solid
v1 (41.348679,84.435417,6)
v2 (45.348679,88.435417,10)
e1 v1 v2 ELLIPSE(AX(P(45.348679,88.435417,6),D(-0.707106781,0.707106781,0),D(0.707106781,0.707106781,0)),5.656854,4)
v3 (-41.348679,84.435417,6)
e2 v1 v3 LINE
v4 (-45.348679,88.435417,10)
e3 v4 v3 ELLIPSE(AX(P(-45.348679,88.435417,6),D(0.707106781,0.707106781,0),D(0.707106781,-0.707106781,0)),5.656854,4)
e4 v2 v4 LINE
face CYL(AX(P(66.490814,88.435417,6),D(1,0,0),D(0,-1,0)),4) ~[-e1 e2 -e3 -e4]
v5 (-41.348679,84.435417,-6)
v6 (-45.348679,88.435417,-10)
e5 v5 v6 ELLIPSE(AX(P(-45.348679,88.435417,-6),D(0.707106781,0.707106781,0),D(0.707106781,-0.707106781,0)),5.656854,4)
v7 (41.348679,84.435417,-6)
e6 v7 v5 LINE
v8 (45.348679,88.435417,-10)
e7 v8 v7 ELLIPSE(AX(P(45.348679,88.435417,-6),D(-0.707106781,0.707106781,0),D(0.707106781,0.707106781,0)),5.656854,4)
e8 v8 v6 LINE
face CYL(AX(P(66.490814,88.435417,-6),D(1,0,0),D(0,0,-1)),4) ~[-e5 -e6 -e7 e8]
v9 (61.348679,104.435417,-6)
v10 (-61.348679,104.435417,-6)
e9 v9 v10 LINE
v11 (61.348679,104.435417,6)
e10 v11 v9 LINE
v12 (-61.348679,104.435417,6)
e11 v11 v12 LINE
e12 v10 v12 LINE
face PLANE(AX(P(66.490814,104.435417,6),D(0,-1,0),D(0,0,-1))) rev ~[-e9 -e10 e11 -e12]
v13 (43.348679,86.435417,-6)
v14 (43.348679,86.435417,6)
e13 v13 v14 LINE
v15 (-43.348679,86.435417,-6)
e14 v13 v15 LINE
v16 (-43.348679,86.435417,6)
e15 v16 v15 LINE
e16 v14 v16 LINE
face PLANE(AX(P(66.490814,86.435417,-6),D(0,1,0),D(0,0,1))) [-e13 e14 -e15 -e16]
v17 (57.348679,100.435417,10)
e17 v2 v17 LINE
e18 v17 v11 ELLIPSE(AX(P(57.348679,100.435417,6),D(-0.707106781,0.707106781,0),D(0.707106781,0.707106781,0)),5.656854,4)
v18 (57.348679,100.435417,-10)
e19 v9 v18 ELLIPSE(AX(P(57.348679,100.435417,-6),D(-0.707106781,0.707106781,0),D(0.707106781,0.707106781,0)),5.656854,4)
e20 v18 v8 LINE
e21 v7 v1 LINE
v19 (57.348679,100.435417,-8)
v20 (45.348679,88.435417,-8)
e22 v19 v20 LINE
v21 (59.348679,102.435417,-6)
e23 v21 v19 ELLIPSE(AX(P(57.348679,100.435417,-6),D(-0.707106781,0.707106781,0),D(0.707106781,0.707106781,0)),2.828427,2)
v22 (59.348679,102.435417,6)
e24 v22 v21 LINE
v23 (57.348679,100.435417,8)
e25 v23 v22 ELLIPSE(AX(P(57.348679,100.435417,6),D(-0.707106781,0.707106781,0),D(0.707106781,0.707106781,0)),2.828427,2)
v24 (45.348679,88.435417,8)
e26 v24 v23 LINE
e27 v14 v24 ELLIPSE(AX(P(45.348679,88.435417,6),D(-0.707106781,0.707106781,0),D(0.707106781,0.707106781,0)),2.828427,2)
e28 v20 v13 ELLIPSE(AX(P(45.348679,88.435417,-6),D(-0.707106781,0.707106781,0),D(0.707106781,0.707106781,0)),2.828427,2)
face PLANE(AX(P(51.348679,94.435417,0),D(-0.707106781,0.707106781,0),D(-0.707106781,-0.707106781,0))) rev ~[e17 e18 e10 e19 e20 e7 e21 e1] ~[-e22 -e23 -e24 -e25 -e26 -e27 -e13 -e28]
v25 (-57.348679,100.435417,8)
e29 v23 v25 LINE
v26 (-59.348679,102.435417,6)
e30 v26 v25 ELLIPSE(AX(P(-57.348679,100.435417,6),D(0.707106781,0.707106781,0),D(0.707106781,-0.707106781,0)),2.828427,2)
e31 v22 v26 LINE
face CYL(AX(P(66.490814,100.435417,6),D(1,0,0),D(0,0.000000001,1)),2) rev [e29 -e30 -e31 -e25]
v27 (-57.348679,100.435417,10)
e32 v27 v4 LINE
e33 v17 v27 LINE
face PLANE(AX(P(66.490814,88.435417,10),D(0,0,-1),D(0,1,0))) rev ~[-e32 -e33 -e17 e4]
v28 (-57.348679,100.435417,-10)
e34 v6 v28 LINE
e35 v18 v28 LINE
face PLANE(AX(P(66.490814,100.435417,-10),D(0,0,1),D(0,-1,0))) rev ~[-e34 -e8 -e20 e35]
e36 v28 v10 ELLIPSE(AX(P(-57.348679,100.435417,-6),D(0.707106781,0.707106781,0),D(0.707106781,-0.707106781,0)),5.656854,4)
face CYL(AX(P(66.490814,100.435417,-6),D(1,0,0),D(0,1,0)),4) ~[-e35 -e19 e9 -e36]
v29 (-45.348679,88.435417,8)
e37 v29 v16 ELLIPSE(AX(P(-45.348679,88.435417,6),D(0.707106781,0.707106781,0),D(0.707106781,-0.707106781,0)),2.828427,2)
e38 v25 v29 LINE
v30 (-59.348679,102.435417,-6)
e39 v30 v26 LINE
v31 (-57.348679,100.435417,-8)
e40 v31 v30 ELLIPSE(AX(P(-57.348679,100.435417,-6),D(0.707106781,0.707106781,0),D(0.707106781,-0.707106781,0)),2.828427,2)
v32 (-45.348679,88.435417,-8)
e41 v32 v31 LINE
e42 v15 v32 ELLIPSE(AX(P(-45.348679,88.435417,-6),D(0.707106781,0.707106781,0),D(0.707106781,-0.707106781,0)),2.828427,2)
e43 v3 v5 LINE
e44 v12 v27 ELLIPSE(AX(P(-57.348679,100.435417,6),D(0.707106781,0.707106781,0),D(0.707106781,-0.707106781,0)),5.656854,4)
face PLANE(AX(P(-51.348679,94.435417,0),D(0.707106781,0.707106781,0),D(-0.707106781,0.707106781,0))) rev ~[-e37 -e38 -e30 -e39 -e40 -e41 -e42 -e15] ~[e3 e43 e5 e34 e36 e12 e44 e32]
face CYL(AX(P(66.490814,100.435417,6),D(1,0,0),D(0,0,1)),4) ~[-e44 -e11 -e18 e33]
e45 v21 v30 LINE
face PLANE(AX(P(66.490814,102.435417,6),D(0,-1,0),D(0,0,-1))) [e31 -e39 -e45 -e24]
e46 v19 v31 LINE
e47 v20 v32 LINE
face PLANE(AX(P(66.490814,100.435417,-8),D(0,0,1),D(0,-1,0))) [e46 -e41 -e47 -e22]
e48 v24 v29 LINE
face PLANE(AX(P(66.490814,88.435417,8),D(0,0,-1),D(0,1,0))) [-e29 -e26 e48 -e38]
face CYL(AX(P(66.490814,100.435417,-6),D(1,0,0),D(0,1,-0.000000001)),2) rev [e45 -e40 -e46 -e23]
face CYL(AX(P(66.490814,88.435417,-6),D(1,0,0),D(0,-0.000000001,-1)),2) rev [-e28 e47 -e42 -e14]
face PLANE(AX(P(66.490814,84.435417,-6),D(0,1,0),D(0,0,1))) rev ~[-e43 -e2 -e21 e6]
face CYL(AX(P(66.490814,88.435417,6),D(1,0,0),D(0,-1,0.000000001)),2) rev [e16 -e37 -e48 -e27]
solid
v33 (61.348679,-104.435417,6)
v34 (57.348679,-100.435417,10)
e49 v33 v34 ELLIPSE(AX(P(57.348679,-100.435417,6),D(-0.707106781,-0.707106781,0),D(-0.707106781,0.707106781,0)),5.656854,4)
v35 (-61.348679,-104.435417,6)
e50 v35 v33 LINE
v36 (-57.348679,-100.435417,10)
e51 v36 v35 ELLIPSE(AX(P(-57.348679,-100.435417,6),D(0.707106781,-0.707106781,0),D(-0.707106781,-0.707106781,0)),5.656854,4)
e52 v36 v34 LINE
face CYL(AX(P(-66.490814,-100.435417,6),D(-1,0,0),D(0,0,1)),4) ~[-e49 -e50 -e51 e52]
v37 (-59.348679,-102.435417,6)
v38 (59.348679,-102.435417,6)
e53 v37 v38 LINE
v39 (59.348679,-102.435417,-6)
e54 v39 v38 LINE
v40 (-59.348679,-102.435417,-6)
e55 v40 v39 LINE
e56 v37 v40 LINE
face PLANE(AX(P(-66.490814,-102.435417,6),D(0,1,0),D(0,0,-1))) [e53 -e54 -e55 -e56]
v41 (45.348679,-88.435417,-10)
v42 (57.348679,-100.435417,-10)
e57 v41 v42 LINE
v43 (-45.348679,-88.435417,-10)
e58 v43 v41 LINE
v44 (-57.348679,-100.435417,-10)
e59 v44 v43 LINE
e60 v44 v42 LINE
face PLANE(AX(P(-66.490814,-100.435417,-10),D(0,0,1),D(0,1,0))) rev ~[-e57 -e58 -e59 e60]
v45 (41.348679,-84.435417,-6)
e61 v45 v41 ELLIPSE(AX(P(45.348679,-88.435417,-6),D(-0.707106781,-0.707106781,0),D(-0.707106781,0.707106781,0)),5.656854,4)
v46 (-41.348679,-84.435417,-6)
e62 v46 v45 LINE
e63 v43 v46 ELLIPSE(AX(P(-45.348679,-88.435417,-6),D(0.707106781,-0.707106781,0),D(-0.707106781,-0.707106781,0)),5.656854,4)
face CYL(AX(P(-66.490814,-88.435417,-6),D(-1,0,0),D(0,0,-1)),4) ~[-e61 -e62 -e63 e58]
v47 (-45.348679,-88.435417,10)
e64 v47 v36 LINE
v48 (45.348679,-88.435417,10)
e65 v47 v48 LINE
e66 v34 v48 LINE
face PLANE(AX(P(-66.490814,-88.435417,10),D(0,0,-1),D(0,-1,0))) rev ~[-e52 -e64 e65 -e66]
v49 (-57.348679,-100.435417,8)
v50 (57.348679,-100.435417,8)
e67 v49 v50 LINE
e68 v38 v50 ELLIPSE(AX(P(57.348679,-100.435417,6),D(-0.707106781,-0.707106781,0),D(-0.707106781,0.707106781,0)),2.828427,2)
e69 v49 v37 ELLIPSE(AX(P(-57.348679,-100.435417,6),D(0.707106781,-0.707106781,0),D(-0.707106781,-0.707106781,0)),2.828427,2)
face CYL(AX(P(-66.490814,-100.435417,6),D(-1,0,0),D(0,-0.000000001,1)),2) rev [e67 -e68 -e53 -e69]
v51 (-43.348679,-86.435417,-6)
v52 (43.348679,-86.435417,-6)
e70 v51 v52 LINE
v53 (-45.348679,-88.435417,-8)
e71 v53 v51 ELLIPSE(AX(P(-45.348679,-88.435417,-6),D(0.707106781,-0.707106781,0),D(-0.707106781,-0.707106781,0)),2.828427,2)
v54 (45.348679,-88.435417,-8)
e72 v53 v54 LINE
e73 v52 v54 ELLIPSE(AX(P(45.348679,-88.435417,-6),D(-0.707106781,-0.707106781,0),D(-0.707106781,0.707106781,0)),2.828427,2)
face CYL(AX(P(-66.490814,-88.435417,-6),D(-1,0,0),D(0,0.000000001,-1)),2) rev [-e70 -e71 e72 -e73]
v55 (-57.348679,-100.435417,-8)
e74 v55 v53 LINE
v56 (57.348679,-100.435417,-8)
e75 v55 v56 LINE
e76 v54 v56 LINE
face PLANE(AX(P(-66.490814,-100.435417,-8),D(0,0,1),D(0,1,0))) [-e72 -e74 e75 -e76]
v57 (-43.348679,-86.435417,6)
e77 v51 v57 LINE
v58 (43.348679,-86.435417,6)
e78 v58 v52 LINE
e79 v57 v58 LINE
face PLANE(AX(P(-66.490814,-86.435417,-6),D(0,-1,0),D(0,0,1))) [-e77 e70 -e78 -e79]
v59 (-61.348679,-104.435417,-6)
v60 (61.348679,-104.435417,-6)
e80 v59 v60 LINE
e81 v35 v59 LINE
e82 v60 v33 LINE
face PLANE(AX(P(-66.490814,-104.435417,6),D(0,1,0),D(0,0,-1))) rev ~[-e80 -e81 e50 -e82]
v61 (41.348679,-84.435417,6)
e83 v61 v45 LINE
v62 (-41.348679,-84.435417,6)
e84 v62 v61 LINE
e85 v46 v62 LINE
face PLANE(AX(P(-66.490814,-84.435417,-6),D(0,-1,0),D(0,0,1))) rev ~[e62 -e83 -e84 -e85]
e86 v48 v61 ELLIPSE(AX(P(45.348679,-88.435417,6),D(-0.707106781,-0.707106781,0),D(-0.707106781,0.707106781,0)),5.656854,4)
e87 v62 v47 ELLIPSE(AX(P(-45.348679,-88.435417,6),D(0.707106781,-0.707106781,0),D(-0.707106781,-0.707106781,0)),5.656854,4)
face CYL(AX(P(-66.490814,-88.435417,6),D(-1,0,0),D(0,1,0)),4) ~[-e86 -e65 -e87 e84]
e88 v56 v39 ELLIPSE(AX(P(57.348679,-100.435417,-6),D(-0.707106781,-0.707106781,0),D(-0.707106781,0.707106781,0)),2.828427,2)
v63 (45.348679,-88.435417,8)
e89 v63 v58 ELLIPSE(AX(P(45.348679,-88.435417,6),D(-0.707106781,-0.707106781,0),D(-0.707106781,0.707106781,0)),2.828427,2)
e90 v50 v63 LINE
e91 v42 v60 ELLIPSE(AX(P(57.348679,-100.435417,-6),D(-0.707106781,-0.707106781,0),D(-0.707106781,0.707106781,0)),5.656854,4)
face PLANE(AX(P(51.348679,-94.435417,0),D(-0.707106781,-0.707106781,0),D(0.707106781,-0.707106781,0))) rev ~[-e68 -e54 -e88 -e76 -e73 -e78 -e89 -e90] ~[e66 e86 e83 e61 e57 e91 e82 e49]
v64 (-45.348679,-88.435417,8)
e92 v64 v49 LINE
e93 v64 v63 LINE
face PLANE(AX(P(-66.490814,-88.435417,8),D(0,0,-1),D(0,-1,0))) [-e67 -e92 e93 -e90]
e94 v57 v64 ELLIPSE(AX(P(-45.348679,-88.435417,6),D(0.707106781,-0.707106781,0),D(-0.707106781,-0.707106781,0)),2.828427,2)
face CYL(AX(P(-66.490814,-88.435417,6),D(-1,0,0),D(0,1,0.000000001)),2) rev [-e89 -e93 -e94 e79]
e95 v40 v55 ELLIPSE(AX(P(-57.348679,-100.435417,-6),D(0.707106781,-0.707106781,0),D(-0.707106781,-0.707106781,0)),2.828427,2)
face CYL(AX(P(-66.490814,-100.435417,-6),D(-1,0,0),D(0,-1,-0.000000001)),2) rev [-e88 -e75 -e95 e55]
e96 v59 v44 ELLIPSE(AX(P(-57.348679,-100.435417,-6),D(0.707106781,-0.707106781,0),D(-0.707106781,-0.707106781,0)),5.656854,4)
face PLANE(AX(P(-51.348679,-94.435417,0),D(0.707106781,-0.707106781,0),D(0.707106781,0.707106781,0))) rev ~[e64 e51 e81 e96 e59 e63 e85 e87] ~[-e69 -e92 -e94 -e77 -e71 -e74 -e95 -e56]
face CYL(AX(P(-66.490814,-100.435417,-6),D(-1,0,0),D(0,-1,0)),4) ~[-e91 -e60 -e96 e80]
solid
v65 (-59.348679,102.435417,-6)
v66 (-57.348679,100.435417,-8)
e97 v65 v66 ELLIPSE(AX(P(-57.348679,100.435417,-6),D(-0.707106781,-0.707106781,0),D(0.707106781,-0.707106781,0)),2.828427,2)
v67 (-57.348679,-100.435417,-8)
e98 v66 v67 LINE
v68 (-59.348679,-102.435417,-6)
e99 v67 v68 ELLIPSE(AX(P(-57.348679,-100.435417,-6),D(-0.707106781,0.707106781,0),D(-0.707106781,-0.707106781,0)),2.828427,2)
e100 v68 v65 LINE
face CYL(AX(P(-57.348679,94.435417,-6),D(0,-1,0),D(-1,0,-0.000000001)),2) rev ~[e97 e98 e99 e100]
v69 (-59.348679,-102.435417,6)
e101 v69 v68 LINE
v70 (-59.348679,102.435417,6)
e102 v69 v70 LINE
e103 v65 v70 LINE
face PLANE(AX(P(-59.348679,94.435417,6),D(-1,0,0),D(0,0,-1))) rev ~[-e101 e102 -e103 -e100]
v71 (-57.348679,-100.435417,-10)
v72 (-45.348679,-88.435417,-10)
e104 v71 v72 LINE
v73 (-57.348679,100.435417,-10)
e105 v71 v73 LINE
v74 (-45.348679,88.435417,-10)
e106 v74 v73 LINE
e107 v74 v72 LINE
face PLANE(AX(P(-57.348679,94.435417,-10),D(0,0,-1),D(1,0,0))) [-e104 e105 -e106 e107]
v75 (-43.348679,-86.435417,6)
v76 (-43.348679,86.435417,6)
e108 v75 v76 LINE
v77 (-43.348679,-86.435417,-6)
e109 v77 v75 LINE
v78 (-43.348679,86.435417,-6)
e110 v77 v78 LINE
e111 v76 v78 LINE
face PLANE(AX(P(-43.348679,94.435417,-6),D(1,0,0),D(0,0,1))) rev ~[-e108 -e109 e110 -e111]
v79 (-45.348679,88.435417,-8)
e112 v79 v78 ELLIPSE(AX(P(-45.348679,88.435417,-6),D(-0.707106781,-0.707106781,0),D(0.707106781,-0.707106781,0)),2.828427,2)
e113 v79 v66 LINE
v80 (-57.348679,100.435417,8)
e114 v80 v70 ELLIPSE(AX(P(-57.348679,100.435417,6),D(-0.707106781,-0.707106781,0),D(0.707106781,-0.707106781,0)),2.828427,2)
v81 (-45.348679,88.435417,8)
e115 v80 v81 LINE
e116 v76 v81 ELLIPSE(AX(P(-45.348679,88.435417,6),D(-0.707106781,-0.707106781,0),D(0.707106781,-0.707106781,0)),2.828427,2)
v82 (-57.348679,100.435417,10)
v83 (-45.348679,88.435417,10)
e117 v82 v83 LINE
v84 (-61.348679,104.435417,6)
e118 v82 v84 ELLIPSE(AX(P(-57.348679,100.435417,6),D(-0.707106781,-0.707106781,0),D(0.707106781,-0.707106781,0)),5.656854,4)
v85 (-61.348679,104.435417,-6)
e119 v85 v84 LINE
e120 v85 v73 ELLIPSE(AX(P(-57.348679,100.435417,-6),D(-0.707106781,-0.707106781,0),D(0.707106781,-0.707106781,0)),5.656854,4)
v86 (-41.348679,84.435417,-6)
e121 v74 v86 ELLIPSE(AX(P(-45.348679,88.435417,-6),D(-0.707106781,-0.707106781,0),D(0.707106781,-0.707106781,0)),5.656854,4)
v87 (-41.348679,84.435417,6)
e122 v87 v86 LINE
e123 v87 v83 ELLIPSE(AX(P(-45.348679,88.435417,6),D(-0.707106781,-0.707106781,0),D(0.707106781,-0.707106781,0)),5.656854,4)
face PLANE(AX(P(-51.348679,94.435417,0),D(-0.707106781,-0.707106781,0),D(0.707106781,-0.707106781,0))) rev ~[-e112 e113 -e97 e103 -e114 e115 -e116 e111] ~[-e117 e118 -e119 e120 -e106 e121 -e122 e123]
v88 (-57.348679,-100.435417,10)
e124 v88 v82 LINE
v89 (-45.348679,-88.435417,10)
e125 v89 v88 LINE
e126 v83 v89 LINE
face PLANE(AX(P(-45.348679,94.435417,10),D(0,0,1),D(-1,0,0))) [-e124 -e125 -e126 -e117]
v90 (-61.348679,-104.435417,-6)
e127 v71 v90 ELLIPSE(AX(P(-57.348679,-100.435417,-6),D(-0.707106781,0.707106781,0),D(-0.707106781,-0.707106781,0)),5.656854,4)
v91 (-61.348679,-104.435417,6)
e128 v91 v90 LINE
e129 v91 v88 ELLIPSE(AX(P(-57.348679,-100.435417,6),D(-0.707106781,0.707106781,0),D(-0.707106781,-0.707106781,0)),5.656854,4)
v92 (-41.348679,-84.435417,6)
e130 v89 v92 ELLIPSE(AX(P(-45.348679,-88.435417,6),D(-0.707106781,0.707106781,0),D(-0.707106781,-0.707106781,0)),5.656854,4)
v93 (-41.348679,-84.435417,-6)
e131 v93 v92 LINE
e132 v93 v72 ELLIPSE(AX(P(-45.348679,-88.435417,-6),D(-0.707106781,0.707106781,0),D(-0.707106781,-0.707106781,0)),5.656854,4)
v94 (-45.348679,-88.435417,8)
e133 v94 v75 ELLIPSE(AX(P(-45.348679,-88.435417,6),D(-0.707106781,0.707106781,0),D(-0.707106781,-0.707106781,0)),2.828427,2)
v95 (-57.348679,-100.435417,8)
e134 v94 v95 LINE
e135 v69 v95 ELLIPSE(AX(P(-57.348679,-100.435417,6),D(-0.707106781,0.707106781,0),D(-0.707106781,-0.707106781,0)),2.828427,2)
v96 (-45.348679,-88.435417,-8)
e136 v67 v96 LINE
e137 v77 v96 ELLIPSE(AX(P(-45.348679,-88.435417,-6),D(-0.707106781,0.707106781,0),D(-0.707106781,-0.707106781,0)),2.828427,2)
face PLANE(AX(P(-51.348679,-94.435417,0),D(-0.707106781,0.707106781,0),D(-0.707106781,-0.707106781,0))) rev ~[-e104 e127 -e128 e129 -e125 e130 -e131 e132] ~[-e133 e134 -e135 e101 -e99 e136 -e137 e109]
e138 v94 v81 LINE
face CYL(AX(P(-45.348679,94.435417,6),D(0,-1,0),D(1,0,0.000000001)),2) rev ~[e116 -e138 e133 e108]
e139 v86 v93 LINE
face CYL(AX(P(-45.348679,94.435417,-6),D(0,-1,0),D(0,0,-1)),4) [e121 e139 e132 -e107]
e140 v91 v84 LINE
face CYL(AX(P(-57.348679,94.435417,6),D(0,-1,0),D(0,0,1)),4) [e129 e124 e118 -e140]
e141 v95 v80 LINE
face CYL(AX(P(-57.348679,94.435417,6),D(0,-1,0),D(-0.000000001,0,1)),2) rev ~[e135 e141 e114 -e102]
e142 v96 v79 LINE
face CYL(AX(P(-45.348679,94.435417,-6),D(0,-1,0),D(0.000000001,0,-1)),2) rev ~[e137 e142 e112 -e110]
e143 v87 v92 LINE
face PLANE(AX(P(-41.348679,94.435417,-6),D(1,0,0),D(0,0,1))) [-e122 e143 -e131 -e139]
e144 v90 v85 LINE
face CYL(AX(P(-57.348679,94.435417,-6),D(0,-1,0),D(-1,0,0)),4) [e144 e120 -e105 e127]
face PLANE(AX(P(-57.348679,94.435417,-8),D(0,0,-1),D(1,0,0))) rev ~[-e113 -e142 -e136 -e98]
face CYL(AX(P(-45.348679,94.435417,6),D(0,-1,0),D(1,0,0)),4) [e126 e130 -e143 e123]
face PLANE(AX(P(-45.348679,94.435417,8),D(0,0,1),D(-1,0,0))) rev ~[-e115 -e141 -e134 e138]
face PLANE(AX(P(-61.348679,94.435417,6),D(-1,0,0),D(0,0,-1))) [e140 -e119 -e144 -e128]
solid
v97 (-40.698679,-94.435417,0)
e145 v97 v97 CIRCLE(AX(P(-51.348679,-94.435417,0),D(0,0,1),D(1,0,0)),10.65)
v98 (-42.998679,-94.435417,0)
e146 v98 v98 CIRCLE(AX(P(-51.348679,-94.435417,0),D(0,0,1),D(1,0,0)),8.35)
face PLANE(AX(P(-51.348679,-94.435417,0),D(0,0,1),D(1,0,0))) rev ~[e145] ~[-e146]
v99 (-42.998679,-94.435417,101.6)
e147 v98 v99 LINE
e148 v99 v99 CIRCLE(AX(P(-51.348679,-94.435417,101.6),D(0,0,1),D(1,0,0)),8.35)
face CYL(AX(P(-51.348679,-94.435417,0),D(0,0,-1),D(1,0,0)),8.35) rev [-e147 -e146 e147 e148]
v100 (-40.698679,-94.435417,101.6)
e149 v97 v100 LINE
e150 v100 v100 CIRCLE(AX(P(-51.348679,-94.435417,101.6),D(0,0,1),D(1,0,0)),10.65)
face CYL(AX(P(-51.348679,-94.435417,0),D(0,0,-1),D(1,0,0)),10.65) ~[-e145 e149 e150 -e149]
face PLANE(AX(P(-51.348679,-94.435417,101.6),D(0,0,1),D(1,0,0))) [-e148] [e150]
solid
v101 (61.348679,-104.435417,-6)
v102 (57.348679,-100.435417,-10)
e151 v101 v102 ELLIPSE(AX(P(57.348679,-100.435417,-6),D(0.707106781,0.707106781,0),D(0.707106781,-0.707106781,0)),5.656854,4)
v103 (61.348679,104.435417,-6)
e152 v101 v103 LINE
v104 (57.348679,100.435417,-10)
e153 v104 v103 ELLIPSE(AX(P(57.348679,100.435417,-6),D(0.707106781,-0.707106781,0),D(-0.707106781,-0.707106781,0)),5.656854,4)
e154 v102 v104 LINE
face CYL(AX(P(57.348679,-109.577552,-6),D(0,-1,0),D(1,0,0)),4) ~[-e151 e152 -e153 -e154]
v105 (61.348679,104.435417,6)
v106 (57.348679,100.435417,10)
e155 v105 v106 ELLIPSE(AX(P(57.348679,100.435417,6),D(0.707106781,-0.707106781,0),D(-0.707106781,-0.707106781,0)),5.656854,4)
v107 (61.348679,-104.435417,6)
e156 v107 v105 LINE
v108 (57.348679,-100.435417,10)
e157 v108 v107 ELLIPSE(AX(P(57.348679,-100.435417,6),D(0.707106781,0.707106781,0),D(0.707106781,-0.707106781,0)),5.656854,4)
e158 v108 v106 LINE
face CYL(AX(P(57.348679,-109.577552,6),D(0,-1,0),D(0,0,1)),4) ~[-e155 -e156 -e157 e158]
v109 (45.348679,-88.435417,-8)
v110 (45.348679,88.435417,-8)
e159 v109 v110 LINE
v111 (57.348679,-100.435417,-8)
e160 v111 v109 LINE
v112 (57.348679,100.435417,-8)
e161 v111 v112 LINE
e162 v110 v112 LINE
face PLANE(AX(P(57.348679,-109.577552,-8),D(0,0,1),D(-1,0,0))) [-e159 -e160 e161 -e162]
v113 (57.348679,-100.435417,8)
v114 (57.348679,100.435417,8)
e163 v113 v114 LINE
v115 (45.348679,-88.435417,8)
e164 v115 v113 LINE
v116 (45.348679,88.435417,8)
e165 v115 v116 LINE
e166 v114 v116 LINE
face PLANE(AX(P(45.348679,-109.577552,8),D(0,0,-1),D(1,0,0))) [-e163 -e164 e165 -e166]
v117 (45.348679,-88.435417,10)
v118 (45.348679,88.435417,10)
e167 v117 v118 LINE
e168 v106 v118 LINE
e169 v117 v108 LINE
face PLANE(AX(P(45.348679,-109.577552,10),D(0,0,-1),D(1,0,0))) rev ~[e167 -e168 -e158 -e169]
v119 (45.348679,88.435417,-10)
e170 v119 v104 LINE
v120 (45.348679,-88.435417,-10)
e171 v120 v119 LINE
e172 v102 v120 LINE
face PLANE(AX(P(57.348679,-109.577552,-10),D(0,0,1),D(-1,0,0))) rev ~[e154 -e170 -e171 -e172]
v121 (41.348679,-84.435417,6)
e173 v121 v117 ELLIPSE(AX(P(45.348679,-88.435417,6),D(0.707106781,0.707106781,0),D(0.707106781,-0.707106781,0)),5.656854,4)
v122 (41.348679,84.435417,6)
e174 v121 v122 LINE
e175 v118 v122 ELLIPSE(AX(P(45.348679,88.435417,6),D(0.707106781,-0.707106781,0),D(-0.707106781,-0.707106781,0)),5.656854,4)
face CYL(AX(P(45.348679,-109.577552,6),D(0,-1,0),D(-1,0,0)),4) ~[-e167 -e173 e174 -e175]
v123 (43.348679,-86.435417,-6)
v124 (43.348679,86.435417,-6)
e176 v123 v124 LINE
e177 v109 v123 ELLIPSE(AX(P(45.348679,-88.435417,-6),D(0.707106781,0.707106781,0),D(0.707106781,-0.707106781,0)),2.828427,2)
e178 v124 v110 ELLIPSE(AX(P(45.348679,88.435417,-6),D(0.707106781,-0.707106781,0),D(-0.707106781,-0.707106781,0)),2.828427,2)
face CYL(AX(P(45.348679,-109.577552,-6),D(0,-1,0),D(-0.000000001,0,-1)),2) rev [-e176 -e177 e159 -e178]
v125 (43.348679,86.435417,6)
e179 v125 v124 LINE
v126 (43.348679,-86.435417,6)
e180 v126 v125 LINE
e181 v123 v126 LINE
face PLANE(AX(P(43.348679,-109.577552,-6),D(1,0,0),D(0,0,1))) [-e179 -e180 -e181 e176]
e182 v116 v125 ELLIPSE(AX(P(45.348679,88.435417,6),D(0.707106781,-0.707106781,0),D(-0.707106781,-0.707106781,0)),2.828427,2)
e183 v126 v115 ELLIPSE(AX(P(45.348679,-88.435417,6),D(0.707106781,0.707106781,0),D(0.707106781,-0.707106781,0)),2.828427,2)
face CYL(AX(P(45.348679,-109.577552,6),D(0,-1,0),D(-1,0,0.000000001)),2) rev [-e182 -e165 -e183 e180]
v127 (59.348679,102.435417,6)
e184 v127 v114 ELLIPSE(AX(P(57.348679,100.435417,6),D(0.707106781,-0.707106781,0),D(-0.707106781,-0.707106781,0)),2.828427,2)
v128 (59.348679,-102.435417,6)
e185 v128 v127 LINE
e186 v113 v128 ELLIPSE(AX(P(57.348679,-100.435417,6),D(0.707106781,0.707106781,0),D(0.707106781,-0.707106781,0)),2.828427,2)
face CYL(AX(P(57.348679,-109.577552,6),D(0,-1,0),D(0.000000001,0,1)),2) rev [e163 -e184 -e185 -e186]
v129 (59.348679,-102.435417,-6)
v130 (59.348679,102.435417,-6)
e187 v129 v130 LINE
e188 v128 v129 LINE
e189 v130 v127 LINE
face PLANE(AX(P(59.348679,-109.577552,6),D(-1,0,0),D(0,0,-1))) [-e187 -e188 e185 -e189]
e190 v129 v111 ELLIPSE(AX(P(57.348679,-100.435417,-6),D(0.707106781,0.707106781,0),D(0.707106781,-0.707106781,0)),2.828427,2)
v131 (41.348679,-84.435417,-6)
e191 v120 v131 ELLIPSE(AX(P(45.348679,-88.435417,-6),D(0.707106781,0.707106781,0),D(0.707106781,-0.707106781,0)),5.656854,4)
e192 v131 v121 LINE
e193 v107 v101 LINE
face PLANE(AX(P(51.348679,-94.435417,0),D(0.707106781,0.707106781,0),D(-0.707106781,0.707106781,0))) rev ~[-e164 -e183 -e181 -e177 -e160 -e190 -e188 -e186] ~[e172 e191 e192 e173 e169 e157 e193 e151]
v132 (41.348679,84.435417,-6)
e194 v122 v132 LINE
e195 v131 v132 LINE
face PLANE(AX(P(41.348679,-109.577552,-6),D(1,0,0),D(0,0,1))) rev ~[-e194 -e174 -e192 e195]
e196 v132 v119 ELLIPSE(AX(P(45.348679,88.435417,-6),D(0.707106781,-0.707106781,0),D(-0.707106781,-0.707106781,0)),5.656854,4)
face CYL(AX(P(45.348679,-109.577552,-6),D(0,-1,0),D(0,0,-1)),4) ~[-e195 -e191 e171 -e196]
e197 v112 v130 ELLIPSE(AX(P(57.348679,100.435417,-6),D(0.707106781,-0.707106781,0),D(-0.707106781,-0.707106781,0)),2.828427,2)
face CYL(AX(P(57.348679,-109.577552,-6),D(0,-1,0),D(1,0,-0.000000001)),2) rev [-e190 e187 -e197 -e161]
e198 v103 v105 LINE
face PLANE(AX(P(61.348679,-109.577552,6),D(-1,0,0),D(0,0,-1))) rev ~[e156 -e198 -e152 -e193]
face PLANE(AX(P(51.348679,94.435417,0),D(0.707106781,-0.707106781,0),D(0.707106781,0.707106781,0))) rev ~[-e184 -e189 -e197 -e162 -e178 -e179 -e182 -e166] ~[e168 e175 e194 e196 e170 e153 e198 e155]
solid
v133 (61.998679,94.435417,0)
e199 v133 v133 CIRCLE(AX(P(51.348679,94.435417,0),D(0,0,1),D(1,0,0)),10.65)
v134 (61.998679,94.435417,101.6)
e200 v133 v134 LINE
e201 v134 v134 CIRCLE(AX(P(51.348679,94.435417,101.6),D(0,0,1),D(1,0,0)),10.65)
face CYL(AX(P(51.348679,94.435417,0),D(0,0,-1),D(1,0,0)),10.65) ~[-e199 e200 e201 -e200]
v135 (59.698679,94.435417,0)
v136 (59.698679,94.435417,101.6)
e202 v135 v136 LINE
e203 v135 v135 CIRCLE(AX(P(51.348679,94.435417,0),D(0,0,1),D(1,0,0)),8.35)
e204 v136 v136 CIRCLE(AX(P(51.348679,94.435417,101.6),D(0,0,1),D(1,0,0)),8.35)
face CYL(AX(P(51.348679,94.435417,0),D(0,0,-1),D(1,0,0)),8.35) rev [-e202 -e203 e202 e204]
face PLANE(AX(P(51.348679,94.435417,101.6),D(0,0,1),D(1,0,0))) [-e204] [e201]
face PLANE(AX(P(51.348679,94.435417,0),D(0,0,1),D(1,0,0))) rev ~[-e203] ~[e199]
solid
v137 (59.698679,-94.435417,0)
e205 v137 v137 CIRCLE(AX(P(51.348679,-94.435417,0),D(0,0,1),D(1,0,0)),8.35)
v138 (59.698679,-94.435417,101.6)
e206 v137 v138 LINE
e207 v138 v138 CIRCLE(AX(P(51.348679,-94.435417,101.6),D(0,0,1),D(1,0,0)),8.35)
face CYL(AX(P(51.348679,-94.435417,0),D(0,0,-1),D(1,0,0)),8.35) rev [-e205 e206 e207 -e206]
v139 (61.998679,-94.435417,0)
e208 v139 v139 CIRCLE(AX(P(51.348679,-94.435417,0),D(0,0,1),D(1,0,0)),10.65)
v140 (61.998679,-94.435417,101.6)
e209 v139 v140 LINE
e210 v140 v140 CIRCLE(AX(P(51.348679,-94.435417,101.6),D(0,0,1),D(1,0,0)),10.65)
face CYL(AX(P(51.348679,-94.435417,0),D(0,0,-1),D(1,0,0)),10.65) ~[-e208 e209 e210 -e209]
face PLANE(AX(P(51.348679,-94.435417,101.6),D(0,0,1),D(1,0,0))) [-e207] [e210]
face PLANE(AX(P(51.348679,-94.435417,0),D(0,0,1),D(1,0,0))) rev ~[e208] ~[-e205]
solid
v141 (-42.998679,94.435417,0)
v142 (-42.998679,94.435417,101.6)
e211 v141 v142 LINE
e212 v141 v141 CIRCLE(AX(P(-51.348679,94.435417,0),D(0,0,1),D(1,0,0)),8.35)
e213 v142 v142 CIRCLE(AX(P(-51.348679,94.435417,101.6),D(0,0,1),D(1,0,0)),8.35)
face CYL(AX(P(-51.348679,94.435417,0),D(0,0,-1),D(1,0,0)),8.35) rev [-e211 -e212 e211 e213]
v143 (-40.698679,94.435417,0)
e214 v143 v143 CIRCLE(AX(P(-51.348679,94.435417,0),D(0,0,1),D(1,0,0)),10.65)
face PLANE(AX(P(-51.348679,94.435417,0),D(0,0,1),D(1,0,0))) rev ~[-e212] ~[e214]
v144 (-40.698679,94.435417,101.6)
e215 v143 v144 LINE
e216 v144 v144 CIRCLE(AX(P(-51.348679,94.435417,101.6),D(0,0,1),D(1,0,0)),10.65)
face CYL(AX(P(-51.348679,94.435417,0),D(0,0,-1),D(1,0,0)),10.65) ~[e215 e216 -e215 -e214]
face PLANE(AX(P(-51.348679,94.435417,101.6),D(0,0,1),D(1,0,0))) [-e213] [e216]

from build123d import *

# Parameters (mm, degrees)
STRUCTURAL_MEMBER1_DEPTH      = 204.012968698
STRUCTURAL_MEMBER1_DEPTH_BACK = 15.142135624
STRUCTURAL_MEMBER1_2_DEPTH    = 132.981628501
STRUCTURAL_MEMBER1_3_DEPTH    = 219.155104322
STRUCTURAL_MEMBER1_4_DEPTH    = 132.981628501
SKETCH19_R                    = 10.65
SKETCH19_R_2                  = 8.35
STRUCTURAL_MEMBER2_DEPTH      = 101.6
SKETCH19_ON_SEGMENT_2_R       = 10.65
SKETCH19_ON_SEGMENT_2_R_2     = 8.35
STRUCTURAL_MEMBER2_2_DEPTH    = 101.6
SKETCH19_ON_SEGMENT_3_R       = 10.65
SKETCH19_ON_SEGMENT_3_R_2     = 8.35
STRUCTURAL_MEMBER2_3_DEPTH    = 101.6
SKETCH19_ON_SEGMENT_4_R       = 10.65
SKETCH19_ON_SEGMENT_4_R_2     = 8.35
STRUCTURAL_MEMBER2_4_DEPTH    = 101.6


with BuildPart() as part:
    # Sketch18 → Structural Member1 (new, two sides)
    with BuildSketch(Plane(origin=(-51.348678627, 94.435416537, 0), x_dir=(1, 0, 0), z_dir=(0, -1, 0))) as structural_member1_sk:
        with BuildLine():
            Line((-6, -10), (6, -10))
            ThreePointArc((6, -10), (8.828427125, -8.828427125), (10, -6))
            Line((10, -6), (10, 6))
            ThreePointArc((10, 6), (8.828427125, 8.828427125), (6, 10))
            Line((6, 10), (-6, 10))
            ThreePointArc((-6, 10), (-8.828427125, 8.828427125), (-10, 6))
            Line((-10, 6), (-10, -6))
            ThreePointArc((-10, -6), (-8.828427125, -8.828427125), (-6, -10))
        make_face()
        with BuildLine():
            Line((-6, -8), (6, -8))
            ThreePointArc((6, -8), (7.414213562, -7.414213562), (8, -6))
            Line((8, -6), (8, 6))
            ThreePointArc((8, 6), (7.414213562, 7.414213562), (6, 8))
            Line((6, 8), (-6, 8))
            ThreePointArc((-6, 8), (-7.414213562, 7.414213562), (-8, 6))
            Line((-8, 6), (-8, -6))
            ThreePointArc((-8, -6), (-7.414213562, -7.414213562), (-6, -8))
        make_face(mode=Mode.SUBTRACT)
    extrude(amount=STRUCTURAL_MEMBER1_DEPTH)
    extrude(structural_member1_sk.sketch, amount=-STRUCTURAL_MEMBER1_DEPTH_BACK)

    # Structural Member1 mitre 1
    split(bisect_by=Plane(origin=(-51.348678627, 94.435416537, 0), x_dir=(0.707106781, -0.707106781, 0), z_dir=(-0.707106781, -0.707106781, 0)), keep=Keep.TOP)

    # Structural Member1 mitre 2
    split(bisect_by=Plane(origin=(-51.348678627, -94.435416537, 0), x_dir=(-0.707106781, -0.707106781, 0), z_dir=(-0.707106781, 0.707106781, 0)), keep=Keep.TOP)


with BuildPart() as body_2:
    # Sketch18 on segment 2 (carried to segment 2) → Structural Member1 2 (new body)
    with BuildSketch(Plane(origin=(-66.490814251, -94.435416537, 0), x_dir=(0, 1, 0), z_dir=(1, 0, 0))):
        with BuildLine():
            Line((-6, -10), (6, -10))
            ThreePointArc((6, -10), (8.828427125, -8.828427125), (10, -6))
            Line((10, -6), (10, 6))
            ThreePointArc((10, 6), (8.828427125, 8.828427125), (6, 10))
            Line((6, 10), (-6, 10))
            ThreePointArc((-6, 10), (-8.828427125, 8.828427125), (-10, 6))
            Line((-10, 6), (-10, -6))
            ThreePointArc((-10, -6), (-8.828427125, -8.828427125), (-6, -10))
        make_face()
        with BuildLine():
            Line((-6, -8), (6, -8))
            ThreePointArc((6, -8), (7.414213562, -7.414213562), (8, -6))
            Line((8, -6), (8, 6))
            ThreePointArc((8, 6), (7.414213562, 7.414213562), (6, 8))
            Line((6, 8), (-6, 8))
            ThreePointArc((-6, 8), (-7.414213562, 7.414213562), (-8, 6))
            Line((-8, 6), (-8, -6))
            ThreePointArc((-8, -6), (-7.414213562, -7.414213562), (-6, -8))
        make_face(mode=Mode.SUBTRACT)
    extrude(amount=STRUCTURAL_MEMBER1_2_DEPTH)

    # Structural Member1 2 mitre 1
    split(bisect_by=Plane(origin=(-51.348678627, -94.435416537, 0), x_dir=(0.707106781, 0.707106781, 0), z_dir=(0.707106781, -0.707106781, 0)), keep=Keep.TOP)

    # Structural Member1 2 mitre 2
    split(bisect_by=Plane(origin=(51.348678627, -94.435416537, 0), x_dir=(0.707106781, -0.707106781, 0), z_dir=(-0.707106781, -0.707106781, 0)), keep=Keep.TOP)


with BuildPart() as body_3:
    # Sketch18 on segment 3 (carried to segment 3) → Structural Member1 3 (new body)
    with BuildSketch(Plane(origin=(51.348678627, -109.577552161, 0), x_dir=(-1, 0, 0), z_dir=(0, 1, 0))):
        with BuildLine():
            Line((-6, -10), (6, -10))
            ThreePointArc((6, -10), (8.828427125, -8.828427125), (10, -6))
            Line((10, -6), (10, 6))
            ThreePointArc((10, 6), (8.828427125, 8.828427125), (6, 10))
            Line((6, 10), (-6, 10))
            ThreePointArc((-6, 10), (-8.828427125, 8.828427125), (-10, 6))
            Line((-10, 6), (-10, -6))
            ThreePointArc((-10, -6), (-8.828427125, -8.828427125), (-6, -10))
        make_face()
        with BuildLine():
            Line((-6, -8), (6, -8))
            ThreePointArc((6, -8), (7.414213562, -7.414213562), (8, -6))
            Line((8, -6), (8, 6))
            ThreePointArc((8, 6), (7.414213562, 7.414213562), (6, 8))
            Line((6, 8), (-6, 8))
            ThreePointArc((-6, 8), (-7.414213562, 7.414213562), (-8, 6))
            Line((-8, 6), (-8, -6))
            ThreePointArc((-8, -6), (-7.414213562, -7.414213562), (-6, -8))
        make_face(mode=Mode.SUBTRACT)
    extrude(amount=STRUCTURAL_MEMBER1_3_DEPTH)

    # Structural Member1 3 mitre 1
    split(bisect_by=Plane(origin=(51.348678627, 94.435416537, 0), x_dir=(0.707106781, 0.707106781, 0), z_dir=(0.707106781, -0.707106781, 0)), keep=Keep.TOP)

    # Structural Member1 3 mitre 2
    split(bisect_by=Plane(origin=(51.348678627, -94.435416537, 0), x_dir=(-0.707106781, 0.707106781, 0), z_dir=(0.707106781, 0.707106781, 0)), keep=Keep.TOP)


with BuildPart() as body_4:
    # Sketch18 on segment 4 (carried to segment 4) → Structural Member1 4 (new body)
    with BuildSketch(Plane(origin=(66.490814251, 94.435416537, 0), x_dir=(0, -1, 0), z_dir=(-1, 0, 0))):
        with BuildLine():
            Line((-6, -10), (6, -10))
            ThreePointArc((6, -10), (8.828427125, -8.828427125), (10, -6))
            Line((10, -6), (10, 6))
            ThreePointArc((10, 6), (8.828427125, 8.828427125), (6, 10))
            Line((6, 10), (-6, 10))
            ThreePointArc((-6, 10), (-8.828427125, 8.828427125), (-10, 6))
            Line((-10, 6), (-10, -6))
            ThreePointArc((-10, -6), (-8.828427125, -8.828427125), (-6, -10))
        make_face()
        with BuildLine():
            Line((-6, -8), (6, -8))
            ThreePointArc((6, -8), (7.414213562, -7.414213562), (8, -6))
            Line((8, -6), (8, 6))
            ThreePointArc((8, 6), (7.414213562, 7.414213562), (6, 8))
            Line((6, 8), (-6, 8))
            ThreePointArc((-6, 8), (-7.414213562, 7.414213562), (-8, 6))
            Line((-8, 6), (-8, -6))
            ThreePointArc((-8, -6), (-7.414213562, -7.414213562), (-6, -8))
        make_face(mode=Mode.SUBTRACT)
    extrude(amount=STRUCTURAL_MEMBER1_4_DEPTH)

    # Structural Member1 4 mitre 1
    split(bisect_by=Plane(origin=(-51.348678627, 94.435416537, 0), x_dir=(-0.707106781, 0.707106781, 0), z_dir=(0.707106781, 0.707106781, 0)), keep=Keep.TOP)

    # Structural Member1 4 mitre 2
    split(bisect_by=Plane(origin=(51.348678627, 94.435416537, 0), x_dir=(-0.707106781, -0.707106781, 0), z_dir=(-0.707106781, 0.707106781, 0)), keep=Keep.TOP)


with BuildPart() as body_5:
    # Sketch19 → Structural Member2 (new body)
    with BuildSketch(Plane(origin=(-51.348678627, 94.435416537, 0), x_dir=(1, 0, 0), z_dir=(0, 0, 1))):
        Circle(SKETCH19_R)
        Circle(SKETCH19_R_2, mode=Mode.SUBTRACT)
    extrude(amount=STRUCTURAL_MEMBER2_DEPTH)


with BuildPart() as body_6:
    # Sketch19 on segment 2 (carried to segment 2) → Structural Member2 2 (new body)
    with BuildSketch(Plane(origin=(-51.348678627, -94.435416537, 0), x_dir=(1, 0, 0), z_dir=(0, 0, 1))):
        Circle(SKETCH19_ON_SEGMENT_2_R)
        Circle(SKETCH19_ON_SEGMENT_2_R_2, mode=Mode.SUBTRACT)
    extrude(amount=STRUCTURAL_MEMBER2_2_DEPTH)


with BuildPart() as body_7:
    # Sketch19 on segment 3 (carried to segment 3) → Structural Member2 3 (new body)
    with BuildSketch(Plane(origin=(51.348678627, 94.435416537, 0), x_dir=(1, 0, 0), z_dir=(0, 0, 1))):
        Circle(SKETCH19_ON_SEGMENT_3_R)
        Circle(SKETCH19_ON_SEGMENT_3_R_2, mode=Mode.SUBTRACT)
    extrude(amount=STRUCTURAL_MEMBER2_3_DEPTH)


with BuildPart() as body_8:
    # Sketch19 on segment 4 (carried to segment 4) → Structural Member2 4 (new body)
    with BuildSketch(Plane(origin=(51.348678627, -94.435416537, 0), x_dir=(1, 0, 0), z_dir=(0, 0, 1))):
        Circle(SKETCH19_ON_SEGMENT_4_R)
        Circle(SKETCH19_ON_SEGMENT_4_R_2, mode=Mode.SUBTRACT)
    extrude(amount=STRUCTURAL_MEMBER2_4_DEPTH)


solid = Compound([part.part, body_2.part, body_3.part, body_4.part, body_5.part, body_6.part, body_7.part, body_8.part])
